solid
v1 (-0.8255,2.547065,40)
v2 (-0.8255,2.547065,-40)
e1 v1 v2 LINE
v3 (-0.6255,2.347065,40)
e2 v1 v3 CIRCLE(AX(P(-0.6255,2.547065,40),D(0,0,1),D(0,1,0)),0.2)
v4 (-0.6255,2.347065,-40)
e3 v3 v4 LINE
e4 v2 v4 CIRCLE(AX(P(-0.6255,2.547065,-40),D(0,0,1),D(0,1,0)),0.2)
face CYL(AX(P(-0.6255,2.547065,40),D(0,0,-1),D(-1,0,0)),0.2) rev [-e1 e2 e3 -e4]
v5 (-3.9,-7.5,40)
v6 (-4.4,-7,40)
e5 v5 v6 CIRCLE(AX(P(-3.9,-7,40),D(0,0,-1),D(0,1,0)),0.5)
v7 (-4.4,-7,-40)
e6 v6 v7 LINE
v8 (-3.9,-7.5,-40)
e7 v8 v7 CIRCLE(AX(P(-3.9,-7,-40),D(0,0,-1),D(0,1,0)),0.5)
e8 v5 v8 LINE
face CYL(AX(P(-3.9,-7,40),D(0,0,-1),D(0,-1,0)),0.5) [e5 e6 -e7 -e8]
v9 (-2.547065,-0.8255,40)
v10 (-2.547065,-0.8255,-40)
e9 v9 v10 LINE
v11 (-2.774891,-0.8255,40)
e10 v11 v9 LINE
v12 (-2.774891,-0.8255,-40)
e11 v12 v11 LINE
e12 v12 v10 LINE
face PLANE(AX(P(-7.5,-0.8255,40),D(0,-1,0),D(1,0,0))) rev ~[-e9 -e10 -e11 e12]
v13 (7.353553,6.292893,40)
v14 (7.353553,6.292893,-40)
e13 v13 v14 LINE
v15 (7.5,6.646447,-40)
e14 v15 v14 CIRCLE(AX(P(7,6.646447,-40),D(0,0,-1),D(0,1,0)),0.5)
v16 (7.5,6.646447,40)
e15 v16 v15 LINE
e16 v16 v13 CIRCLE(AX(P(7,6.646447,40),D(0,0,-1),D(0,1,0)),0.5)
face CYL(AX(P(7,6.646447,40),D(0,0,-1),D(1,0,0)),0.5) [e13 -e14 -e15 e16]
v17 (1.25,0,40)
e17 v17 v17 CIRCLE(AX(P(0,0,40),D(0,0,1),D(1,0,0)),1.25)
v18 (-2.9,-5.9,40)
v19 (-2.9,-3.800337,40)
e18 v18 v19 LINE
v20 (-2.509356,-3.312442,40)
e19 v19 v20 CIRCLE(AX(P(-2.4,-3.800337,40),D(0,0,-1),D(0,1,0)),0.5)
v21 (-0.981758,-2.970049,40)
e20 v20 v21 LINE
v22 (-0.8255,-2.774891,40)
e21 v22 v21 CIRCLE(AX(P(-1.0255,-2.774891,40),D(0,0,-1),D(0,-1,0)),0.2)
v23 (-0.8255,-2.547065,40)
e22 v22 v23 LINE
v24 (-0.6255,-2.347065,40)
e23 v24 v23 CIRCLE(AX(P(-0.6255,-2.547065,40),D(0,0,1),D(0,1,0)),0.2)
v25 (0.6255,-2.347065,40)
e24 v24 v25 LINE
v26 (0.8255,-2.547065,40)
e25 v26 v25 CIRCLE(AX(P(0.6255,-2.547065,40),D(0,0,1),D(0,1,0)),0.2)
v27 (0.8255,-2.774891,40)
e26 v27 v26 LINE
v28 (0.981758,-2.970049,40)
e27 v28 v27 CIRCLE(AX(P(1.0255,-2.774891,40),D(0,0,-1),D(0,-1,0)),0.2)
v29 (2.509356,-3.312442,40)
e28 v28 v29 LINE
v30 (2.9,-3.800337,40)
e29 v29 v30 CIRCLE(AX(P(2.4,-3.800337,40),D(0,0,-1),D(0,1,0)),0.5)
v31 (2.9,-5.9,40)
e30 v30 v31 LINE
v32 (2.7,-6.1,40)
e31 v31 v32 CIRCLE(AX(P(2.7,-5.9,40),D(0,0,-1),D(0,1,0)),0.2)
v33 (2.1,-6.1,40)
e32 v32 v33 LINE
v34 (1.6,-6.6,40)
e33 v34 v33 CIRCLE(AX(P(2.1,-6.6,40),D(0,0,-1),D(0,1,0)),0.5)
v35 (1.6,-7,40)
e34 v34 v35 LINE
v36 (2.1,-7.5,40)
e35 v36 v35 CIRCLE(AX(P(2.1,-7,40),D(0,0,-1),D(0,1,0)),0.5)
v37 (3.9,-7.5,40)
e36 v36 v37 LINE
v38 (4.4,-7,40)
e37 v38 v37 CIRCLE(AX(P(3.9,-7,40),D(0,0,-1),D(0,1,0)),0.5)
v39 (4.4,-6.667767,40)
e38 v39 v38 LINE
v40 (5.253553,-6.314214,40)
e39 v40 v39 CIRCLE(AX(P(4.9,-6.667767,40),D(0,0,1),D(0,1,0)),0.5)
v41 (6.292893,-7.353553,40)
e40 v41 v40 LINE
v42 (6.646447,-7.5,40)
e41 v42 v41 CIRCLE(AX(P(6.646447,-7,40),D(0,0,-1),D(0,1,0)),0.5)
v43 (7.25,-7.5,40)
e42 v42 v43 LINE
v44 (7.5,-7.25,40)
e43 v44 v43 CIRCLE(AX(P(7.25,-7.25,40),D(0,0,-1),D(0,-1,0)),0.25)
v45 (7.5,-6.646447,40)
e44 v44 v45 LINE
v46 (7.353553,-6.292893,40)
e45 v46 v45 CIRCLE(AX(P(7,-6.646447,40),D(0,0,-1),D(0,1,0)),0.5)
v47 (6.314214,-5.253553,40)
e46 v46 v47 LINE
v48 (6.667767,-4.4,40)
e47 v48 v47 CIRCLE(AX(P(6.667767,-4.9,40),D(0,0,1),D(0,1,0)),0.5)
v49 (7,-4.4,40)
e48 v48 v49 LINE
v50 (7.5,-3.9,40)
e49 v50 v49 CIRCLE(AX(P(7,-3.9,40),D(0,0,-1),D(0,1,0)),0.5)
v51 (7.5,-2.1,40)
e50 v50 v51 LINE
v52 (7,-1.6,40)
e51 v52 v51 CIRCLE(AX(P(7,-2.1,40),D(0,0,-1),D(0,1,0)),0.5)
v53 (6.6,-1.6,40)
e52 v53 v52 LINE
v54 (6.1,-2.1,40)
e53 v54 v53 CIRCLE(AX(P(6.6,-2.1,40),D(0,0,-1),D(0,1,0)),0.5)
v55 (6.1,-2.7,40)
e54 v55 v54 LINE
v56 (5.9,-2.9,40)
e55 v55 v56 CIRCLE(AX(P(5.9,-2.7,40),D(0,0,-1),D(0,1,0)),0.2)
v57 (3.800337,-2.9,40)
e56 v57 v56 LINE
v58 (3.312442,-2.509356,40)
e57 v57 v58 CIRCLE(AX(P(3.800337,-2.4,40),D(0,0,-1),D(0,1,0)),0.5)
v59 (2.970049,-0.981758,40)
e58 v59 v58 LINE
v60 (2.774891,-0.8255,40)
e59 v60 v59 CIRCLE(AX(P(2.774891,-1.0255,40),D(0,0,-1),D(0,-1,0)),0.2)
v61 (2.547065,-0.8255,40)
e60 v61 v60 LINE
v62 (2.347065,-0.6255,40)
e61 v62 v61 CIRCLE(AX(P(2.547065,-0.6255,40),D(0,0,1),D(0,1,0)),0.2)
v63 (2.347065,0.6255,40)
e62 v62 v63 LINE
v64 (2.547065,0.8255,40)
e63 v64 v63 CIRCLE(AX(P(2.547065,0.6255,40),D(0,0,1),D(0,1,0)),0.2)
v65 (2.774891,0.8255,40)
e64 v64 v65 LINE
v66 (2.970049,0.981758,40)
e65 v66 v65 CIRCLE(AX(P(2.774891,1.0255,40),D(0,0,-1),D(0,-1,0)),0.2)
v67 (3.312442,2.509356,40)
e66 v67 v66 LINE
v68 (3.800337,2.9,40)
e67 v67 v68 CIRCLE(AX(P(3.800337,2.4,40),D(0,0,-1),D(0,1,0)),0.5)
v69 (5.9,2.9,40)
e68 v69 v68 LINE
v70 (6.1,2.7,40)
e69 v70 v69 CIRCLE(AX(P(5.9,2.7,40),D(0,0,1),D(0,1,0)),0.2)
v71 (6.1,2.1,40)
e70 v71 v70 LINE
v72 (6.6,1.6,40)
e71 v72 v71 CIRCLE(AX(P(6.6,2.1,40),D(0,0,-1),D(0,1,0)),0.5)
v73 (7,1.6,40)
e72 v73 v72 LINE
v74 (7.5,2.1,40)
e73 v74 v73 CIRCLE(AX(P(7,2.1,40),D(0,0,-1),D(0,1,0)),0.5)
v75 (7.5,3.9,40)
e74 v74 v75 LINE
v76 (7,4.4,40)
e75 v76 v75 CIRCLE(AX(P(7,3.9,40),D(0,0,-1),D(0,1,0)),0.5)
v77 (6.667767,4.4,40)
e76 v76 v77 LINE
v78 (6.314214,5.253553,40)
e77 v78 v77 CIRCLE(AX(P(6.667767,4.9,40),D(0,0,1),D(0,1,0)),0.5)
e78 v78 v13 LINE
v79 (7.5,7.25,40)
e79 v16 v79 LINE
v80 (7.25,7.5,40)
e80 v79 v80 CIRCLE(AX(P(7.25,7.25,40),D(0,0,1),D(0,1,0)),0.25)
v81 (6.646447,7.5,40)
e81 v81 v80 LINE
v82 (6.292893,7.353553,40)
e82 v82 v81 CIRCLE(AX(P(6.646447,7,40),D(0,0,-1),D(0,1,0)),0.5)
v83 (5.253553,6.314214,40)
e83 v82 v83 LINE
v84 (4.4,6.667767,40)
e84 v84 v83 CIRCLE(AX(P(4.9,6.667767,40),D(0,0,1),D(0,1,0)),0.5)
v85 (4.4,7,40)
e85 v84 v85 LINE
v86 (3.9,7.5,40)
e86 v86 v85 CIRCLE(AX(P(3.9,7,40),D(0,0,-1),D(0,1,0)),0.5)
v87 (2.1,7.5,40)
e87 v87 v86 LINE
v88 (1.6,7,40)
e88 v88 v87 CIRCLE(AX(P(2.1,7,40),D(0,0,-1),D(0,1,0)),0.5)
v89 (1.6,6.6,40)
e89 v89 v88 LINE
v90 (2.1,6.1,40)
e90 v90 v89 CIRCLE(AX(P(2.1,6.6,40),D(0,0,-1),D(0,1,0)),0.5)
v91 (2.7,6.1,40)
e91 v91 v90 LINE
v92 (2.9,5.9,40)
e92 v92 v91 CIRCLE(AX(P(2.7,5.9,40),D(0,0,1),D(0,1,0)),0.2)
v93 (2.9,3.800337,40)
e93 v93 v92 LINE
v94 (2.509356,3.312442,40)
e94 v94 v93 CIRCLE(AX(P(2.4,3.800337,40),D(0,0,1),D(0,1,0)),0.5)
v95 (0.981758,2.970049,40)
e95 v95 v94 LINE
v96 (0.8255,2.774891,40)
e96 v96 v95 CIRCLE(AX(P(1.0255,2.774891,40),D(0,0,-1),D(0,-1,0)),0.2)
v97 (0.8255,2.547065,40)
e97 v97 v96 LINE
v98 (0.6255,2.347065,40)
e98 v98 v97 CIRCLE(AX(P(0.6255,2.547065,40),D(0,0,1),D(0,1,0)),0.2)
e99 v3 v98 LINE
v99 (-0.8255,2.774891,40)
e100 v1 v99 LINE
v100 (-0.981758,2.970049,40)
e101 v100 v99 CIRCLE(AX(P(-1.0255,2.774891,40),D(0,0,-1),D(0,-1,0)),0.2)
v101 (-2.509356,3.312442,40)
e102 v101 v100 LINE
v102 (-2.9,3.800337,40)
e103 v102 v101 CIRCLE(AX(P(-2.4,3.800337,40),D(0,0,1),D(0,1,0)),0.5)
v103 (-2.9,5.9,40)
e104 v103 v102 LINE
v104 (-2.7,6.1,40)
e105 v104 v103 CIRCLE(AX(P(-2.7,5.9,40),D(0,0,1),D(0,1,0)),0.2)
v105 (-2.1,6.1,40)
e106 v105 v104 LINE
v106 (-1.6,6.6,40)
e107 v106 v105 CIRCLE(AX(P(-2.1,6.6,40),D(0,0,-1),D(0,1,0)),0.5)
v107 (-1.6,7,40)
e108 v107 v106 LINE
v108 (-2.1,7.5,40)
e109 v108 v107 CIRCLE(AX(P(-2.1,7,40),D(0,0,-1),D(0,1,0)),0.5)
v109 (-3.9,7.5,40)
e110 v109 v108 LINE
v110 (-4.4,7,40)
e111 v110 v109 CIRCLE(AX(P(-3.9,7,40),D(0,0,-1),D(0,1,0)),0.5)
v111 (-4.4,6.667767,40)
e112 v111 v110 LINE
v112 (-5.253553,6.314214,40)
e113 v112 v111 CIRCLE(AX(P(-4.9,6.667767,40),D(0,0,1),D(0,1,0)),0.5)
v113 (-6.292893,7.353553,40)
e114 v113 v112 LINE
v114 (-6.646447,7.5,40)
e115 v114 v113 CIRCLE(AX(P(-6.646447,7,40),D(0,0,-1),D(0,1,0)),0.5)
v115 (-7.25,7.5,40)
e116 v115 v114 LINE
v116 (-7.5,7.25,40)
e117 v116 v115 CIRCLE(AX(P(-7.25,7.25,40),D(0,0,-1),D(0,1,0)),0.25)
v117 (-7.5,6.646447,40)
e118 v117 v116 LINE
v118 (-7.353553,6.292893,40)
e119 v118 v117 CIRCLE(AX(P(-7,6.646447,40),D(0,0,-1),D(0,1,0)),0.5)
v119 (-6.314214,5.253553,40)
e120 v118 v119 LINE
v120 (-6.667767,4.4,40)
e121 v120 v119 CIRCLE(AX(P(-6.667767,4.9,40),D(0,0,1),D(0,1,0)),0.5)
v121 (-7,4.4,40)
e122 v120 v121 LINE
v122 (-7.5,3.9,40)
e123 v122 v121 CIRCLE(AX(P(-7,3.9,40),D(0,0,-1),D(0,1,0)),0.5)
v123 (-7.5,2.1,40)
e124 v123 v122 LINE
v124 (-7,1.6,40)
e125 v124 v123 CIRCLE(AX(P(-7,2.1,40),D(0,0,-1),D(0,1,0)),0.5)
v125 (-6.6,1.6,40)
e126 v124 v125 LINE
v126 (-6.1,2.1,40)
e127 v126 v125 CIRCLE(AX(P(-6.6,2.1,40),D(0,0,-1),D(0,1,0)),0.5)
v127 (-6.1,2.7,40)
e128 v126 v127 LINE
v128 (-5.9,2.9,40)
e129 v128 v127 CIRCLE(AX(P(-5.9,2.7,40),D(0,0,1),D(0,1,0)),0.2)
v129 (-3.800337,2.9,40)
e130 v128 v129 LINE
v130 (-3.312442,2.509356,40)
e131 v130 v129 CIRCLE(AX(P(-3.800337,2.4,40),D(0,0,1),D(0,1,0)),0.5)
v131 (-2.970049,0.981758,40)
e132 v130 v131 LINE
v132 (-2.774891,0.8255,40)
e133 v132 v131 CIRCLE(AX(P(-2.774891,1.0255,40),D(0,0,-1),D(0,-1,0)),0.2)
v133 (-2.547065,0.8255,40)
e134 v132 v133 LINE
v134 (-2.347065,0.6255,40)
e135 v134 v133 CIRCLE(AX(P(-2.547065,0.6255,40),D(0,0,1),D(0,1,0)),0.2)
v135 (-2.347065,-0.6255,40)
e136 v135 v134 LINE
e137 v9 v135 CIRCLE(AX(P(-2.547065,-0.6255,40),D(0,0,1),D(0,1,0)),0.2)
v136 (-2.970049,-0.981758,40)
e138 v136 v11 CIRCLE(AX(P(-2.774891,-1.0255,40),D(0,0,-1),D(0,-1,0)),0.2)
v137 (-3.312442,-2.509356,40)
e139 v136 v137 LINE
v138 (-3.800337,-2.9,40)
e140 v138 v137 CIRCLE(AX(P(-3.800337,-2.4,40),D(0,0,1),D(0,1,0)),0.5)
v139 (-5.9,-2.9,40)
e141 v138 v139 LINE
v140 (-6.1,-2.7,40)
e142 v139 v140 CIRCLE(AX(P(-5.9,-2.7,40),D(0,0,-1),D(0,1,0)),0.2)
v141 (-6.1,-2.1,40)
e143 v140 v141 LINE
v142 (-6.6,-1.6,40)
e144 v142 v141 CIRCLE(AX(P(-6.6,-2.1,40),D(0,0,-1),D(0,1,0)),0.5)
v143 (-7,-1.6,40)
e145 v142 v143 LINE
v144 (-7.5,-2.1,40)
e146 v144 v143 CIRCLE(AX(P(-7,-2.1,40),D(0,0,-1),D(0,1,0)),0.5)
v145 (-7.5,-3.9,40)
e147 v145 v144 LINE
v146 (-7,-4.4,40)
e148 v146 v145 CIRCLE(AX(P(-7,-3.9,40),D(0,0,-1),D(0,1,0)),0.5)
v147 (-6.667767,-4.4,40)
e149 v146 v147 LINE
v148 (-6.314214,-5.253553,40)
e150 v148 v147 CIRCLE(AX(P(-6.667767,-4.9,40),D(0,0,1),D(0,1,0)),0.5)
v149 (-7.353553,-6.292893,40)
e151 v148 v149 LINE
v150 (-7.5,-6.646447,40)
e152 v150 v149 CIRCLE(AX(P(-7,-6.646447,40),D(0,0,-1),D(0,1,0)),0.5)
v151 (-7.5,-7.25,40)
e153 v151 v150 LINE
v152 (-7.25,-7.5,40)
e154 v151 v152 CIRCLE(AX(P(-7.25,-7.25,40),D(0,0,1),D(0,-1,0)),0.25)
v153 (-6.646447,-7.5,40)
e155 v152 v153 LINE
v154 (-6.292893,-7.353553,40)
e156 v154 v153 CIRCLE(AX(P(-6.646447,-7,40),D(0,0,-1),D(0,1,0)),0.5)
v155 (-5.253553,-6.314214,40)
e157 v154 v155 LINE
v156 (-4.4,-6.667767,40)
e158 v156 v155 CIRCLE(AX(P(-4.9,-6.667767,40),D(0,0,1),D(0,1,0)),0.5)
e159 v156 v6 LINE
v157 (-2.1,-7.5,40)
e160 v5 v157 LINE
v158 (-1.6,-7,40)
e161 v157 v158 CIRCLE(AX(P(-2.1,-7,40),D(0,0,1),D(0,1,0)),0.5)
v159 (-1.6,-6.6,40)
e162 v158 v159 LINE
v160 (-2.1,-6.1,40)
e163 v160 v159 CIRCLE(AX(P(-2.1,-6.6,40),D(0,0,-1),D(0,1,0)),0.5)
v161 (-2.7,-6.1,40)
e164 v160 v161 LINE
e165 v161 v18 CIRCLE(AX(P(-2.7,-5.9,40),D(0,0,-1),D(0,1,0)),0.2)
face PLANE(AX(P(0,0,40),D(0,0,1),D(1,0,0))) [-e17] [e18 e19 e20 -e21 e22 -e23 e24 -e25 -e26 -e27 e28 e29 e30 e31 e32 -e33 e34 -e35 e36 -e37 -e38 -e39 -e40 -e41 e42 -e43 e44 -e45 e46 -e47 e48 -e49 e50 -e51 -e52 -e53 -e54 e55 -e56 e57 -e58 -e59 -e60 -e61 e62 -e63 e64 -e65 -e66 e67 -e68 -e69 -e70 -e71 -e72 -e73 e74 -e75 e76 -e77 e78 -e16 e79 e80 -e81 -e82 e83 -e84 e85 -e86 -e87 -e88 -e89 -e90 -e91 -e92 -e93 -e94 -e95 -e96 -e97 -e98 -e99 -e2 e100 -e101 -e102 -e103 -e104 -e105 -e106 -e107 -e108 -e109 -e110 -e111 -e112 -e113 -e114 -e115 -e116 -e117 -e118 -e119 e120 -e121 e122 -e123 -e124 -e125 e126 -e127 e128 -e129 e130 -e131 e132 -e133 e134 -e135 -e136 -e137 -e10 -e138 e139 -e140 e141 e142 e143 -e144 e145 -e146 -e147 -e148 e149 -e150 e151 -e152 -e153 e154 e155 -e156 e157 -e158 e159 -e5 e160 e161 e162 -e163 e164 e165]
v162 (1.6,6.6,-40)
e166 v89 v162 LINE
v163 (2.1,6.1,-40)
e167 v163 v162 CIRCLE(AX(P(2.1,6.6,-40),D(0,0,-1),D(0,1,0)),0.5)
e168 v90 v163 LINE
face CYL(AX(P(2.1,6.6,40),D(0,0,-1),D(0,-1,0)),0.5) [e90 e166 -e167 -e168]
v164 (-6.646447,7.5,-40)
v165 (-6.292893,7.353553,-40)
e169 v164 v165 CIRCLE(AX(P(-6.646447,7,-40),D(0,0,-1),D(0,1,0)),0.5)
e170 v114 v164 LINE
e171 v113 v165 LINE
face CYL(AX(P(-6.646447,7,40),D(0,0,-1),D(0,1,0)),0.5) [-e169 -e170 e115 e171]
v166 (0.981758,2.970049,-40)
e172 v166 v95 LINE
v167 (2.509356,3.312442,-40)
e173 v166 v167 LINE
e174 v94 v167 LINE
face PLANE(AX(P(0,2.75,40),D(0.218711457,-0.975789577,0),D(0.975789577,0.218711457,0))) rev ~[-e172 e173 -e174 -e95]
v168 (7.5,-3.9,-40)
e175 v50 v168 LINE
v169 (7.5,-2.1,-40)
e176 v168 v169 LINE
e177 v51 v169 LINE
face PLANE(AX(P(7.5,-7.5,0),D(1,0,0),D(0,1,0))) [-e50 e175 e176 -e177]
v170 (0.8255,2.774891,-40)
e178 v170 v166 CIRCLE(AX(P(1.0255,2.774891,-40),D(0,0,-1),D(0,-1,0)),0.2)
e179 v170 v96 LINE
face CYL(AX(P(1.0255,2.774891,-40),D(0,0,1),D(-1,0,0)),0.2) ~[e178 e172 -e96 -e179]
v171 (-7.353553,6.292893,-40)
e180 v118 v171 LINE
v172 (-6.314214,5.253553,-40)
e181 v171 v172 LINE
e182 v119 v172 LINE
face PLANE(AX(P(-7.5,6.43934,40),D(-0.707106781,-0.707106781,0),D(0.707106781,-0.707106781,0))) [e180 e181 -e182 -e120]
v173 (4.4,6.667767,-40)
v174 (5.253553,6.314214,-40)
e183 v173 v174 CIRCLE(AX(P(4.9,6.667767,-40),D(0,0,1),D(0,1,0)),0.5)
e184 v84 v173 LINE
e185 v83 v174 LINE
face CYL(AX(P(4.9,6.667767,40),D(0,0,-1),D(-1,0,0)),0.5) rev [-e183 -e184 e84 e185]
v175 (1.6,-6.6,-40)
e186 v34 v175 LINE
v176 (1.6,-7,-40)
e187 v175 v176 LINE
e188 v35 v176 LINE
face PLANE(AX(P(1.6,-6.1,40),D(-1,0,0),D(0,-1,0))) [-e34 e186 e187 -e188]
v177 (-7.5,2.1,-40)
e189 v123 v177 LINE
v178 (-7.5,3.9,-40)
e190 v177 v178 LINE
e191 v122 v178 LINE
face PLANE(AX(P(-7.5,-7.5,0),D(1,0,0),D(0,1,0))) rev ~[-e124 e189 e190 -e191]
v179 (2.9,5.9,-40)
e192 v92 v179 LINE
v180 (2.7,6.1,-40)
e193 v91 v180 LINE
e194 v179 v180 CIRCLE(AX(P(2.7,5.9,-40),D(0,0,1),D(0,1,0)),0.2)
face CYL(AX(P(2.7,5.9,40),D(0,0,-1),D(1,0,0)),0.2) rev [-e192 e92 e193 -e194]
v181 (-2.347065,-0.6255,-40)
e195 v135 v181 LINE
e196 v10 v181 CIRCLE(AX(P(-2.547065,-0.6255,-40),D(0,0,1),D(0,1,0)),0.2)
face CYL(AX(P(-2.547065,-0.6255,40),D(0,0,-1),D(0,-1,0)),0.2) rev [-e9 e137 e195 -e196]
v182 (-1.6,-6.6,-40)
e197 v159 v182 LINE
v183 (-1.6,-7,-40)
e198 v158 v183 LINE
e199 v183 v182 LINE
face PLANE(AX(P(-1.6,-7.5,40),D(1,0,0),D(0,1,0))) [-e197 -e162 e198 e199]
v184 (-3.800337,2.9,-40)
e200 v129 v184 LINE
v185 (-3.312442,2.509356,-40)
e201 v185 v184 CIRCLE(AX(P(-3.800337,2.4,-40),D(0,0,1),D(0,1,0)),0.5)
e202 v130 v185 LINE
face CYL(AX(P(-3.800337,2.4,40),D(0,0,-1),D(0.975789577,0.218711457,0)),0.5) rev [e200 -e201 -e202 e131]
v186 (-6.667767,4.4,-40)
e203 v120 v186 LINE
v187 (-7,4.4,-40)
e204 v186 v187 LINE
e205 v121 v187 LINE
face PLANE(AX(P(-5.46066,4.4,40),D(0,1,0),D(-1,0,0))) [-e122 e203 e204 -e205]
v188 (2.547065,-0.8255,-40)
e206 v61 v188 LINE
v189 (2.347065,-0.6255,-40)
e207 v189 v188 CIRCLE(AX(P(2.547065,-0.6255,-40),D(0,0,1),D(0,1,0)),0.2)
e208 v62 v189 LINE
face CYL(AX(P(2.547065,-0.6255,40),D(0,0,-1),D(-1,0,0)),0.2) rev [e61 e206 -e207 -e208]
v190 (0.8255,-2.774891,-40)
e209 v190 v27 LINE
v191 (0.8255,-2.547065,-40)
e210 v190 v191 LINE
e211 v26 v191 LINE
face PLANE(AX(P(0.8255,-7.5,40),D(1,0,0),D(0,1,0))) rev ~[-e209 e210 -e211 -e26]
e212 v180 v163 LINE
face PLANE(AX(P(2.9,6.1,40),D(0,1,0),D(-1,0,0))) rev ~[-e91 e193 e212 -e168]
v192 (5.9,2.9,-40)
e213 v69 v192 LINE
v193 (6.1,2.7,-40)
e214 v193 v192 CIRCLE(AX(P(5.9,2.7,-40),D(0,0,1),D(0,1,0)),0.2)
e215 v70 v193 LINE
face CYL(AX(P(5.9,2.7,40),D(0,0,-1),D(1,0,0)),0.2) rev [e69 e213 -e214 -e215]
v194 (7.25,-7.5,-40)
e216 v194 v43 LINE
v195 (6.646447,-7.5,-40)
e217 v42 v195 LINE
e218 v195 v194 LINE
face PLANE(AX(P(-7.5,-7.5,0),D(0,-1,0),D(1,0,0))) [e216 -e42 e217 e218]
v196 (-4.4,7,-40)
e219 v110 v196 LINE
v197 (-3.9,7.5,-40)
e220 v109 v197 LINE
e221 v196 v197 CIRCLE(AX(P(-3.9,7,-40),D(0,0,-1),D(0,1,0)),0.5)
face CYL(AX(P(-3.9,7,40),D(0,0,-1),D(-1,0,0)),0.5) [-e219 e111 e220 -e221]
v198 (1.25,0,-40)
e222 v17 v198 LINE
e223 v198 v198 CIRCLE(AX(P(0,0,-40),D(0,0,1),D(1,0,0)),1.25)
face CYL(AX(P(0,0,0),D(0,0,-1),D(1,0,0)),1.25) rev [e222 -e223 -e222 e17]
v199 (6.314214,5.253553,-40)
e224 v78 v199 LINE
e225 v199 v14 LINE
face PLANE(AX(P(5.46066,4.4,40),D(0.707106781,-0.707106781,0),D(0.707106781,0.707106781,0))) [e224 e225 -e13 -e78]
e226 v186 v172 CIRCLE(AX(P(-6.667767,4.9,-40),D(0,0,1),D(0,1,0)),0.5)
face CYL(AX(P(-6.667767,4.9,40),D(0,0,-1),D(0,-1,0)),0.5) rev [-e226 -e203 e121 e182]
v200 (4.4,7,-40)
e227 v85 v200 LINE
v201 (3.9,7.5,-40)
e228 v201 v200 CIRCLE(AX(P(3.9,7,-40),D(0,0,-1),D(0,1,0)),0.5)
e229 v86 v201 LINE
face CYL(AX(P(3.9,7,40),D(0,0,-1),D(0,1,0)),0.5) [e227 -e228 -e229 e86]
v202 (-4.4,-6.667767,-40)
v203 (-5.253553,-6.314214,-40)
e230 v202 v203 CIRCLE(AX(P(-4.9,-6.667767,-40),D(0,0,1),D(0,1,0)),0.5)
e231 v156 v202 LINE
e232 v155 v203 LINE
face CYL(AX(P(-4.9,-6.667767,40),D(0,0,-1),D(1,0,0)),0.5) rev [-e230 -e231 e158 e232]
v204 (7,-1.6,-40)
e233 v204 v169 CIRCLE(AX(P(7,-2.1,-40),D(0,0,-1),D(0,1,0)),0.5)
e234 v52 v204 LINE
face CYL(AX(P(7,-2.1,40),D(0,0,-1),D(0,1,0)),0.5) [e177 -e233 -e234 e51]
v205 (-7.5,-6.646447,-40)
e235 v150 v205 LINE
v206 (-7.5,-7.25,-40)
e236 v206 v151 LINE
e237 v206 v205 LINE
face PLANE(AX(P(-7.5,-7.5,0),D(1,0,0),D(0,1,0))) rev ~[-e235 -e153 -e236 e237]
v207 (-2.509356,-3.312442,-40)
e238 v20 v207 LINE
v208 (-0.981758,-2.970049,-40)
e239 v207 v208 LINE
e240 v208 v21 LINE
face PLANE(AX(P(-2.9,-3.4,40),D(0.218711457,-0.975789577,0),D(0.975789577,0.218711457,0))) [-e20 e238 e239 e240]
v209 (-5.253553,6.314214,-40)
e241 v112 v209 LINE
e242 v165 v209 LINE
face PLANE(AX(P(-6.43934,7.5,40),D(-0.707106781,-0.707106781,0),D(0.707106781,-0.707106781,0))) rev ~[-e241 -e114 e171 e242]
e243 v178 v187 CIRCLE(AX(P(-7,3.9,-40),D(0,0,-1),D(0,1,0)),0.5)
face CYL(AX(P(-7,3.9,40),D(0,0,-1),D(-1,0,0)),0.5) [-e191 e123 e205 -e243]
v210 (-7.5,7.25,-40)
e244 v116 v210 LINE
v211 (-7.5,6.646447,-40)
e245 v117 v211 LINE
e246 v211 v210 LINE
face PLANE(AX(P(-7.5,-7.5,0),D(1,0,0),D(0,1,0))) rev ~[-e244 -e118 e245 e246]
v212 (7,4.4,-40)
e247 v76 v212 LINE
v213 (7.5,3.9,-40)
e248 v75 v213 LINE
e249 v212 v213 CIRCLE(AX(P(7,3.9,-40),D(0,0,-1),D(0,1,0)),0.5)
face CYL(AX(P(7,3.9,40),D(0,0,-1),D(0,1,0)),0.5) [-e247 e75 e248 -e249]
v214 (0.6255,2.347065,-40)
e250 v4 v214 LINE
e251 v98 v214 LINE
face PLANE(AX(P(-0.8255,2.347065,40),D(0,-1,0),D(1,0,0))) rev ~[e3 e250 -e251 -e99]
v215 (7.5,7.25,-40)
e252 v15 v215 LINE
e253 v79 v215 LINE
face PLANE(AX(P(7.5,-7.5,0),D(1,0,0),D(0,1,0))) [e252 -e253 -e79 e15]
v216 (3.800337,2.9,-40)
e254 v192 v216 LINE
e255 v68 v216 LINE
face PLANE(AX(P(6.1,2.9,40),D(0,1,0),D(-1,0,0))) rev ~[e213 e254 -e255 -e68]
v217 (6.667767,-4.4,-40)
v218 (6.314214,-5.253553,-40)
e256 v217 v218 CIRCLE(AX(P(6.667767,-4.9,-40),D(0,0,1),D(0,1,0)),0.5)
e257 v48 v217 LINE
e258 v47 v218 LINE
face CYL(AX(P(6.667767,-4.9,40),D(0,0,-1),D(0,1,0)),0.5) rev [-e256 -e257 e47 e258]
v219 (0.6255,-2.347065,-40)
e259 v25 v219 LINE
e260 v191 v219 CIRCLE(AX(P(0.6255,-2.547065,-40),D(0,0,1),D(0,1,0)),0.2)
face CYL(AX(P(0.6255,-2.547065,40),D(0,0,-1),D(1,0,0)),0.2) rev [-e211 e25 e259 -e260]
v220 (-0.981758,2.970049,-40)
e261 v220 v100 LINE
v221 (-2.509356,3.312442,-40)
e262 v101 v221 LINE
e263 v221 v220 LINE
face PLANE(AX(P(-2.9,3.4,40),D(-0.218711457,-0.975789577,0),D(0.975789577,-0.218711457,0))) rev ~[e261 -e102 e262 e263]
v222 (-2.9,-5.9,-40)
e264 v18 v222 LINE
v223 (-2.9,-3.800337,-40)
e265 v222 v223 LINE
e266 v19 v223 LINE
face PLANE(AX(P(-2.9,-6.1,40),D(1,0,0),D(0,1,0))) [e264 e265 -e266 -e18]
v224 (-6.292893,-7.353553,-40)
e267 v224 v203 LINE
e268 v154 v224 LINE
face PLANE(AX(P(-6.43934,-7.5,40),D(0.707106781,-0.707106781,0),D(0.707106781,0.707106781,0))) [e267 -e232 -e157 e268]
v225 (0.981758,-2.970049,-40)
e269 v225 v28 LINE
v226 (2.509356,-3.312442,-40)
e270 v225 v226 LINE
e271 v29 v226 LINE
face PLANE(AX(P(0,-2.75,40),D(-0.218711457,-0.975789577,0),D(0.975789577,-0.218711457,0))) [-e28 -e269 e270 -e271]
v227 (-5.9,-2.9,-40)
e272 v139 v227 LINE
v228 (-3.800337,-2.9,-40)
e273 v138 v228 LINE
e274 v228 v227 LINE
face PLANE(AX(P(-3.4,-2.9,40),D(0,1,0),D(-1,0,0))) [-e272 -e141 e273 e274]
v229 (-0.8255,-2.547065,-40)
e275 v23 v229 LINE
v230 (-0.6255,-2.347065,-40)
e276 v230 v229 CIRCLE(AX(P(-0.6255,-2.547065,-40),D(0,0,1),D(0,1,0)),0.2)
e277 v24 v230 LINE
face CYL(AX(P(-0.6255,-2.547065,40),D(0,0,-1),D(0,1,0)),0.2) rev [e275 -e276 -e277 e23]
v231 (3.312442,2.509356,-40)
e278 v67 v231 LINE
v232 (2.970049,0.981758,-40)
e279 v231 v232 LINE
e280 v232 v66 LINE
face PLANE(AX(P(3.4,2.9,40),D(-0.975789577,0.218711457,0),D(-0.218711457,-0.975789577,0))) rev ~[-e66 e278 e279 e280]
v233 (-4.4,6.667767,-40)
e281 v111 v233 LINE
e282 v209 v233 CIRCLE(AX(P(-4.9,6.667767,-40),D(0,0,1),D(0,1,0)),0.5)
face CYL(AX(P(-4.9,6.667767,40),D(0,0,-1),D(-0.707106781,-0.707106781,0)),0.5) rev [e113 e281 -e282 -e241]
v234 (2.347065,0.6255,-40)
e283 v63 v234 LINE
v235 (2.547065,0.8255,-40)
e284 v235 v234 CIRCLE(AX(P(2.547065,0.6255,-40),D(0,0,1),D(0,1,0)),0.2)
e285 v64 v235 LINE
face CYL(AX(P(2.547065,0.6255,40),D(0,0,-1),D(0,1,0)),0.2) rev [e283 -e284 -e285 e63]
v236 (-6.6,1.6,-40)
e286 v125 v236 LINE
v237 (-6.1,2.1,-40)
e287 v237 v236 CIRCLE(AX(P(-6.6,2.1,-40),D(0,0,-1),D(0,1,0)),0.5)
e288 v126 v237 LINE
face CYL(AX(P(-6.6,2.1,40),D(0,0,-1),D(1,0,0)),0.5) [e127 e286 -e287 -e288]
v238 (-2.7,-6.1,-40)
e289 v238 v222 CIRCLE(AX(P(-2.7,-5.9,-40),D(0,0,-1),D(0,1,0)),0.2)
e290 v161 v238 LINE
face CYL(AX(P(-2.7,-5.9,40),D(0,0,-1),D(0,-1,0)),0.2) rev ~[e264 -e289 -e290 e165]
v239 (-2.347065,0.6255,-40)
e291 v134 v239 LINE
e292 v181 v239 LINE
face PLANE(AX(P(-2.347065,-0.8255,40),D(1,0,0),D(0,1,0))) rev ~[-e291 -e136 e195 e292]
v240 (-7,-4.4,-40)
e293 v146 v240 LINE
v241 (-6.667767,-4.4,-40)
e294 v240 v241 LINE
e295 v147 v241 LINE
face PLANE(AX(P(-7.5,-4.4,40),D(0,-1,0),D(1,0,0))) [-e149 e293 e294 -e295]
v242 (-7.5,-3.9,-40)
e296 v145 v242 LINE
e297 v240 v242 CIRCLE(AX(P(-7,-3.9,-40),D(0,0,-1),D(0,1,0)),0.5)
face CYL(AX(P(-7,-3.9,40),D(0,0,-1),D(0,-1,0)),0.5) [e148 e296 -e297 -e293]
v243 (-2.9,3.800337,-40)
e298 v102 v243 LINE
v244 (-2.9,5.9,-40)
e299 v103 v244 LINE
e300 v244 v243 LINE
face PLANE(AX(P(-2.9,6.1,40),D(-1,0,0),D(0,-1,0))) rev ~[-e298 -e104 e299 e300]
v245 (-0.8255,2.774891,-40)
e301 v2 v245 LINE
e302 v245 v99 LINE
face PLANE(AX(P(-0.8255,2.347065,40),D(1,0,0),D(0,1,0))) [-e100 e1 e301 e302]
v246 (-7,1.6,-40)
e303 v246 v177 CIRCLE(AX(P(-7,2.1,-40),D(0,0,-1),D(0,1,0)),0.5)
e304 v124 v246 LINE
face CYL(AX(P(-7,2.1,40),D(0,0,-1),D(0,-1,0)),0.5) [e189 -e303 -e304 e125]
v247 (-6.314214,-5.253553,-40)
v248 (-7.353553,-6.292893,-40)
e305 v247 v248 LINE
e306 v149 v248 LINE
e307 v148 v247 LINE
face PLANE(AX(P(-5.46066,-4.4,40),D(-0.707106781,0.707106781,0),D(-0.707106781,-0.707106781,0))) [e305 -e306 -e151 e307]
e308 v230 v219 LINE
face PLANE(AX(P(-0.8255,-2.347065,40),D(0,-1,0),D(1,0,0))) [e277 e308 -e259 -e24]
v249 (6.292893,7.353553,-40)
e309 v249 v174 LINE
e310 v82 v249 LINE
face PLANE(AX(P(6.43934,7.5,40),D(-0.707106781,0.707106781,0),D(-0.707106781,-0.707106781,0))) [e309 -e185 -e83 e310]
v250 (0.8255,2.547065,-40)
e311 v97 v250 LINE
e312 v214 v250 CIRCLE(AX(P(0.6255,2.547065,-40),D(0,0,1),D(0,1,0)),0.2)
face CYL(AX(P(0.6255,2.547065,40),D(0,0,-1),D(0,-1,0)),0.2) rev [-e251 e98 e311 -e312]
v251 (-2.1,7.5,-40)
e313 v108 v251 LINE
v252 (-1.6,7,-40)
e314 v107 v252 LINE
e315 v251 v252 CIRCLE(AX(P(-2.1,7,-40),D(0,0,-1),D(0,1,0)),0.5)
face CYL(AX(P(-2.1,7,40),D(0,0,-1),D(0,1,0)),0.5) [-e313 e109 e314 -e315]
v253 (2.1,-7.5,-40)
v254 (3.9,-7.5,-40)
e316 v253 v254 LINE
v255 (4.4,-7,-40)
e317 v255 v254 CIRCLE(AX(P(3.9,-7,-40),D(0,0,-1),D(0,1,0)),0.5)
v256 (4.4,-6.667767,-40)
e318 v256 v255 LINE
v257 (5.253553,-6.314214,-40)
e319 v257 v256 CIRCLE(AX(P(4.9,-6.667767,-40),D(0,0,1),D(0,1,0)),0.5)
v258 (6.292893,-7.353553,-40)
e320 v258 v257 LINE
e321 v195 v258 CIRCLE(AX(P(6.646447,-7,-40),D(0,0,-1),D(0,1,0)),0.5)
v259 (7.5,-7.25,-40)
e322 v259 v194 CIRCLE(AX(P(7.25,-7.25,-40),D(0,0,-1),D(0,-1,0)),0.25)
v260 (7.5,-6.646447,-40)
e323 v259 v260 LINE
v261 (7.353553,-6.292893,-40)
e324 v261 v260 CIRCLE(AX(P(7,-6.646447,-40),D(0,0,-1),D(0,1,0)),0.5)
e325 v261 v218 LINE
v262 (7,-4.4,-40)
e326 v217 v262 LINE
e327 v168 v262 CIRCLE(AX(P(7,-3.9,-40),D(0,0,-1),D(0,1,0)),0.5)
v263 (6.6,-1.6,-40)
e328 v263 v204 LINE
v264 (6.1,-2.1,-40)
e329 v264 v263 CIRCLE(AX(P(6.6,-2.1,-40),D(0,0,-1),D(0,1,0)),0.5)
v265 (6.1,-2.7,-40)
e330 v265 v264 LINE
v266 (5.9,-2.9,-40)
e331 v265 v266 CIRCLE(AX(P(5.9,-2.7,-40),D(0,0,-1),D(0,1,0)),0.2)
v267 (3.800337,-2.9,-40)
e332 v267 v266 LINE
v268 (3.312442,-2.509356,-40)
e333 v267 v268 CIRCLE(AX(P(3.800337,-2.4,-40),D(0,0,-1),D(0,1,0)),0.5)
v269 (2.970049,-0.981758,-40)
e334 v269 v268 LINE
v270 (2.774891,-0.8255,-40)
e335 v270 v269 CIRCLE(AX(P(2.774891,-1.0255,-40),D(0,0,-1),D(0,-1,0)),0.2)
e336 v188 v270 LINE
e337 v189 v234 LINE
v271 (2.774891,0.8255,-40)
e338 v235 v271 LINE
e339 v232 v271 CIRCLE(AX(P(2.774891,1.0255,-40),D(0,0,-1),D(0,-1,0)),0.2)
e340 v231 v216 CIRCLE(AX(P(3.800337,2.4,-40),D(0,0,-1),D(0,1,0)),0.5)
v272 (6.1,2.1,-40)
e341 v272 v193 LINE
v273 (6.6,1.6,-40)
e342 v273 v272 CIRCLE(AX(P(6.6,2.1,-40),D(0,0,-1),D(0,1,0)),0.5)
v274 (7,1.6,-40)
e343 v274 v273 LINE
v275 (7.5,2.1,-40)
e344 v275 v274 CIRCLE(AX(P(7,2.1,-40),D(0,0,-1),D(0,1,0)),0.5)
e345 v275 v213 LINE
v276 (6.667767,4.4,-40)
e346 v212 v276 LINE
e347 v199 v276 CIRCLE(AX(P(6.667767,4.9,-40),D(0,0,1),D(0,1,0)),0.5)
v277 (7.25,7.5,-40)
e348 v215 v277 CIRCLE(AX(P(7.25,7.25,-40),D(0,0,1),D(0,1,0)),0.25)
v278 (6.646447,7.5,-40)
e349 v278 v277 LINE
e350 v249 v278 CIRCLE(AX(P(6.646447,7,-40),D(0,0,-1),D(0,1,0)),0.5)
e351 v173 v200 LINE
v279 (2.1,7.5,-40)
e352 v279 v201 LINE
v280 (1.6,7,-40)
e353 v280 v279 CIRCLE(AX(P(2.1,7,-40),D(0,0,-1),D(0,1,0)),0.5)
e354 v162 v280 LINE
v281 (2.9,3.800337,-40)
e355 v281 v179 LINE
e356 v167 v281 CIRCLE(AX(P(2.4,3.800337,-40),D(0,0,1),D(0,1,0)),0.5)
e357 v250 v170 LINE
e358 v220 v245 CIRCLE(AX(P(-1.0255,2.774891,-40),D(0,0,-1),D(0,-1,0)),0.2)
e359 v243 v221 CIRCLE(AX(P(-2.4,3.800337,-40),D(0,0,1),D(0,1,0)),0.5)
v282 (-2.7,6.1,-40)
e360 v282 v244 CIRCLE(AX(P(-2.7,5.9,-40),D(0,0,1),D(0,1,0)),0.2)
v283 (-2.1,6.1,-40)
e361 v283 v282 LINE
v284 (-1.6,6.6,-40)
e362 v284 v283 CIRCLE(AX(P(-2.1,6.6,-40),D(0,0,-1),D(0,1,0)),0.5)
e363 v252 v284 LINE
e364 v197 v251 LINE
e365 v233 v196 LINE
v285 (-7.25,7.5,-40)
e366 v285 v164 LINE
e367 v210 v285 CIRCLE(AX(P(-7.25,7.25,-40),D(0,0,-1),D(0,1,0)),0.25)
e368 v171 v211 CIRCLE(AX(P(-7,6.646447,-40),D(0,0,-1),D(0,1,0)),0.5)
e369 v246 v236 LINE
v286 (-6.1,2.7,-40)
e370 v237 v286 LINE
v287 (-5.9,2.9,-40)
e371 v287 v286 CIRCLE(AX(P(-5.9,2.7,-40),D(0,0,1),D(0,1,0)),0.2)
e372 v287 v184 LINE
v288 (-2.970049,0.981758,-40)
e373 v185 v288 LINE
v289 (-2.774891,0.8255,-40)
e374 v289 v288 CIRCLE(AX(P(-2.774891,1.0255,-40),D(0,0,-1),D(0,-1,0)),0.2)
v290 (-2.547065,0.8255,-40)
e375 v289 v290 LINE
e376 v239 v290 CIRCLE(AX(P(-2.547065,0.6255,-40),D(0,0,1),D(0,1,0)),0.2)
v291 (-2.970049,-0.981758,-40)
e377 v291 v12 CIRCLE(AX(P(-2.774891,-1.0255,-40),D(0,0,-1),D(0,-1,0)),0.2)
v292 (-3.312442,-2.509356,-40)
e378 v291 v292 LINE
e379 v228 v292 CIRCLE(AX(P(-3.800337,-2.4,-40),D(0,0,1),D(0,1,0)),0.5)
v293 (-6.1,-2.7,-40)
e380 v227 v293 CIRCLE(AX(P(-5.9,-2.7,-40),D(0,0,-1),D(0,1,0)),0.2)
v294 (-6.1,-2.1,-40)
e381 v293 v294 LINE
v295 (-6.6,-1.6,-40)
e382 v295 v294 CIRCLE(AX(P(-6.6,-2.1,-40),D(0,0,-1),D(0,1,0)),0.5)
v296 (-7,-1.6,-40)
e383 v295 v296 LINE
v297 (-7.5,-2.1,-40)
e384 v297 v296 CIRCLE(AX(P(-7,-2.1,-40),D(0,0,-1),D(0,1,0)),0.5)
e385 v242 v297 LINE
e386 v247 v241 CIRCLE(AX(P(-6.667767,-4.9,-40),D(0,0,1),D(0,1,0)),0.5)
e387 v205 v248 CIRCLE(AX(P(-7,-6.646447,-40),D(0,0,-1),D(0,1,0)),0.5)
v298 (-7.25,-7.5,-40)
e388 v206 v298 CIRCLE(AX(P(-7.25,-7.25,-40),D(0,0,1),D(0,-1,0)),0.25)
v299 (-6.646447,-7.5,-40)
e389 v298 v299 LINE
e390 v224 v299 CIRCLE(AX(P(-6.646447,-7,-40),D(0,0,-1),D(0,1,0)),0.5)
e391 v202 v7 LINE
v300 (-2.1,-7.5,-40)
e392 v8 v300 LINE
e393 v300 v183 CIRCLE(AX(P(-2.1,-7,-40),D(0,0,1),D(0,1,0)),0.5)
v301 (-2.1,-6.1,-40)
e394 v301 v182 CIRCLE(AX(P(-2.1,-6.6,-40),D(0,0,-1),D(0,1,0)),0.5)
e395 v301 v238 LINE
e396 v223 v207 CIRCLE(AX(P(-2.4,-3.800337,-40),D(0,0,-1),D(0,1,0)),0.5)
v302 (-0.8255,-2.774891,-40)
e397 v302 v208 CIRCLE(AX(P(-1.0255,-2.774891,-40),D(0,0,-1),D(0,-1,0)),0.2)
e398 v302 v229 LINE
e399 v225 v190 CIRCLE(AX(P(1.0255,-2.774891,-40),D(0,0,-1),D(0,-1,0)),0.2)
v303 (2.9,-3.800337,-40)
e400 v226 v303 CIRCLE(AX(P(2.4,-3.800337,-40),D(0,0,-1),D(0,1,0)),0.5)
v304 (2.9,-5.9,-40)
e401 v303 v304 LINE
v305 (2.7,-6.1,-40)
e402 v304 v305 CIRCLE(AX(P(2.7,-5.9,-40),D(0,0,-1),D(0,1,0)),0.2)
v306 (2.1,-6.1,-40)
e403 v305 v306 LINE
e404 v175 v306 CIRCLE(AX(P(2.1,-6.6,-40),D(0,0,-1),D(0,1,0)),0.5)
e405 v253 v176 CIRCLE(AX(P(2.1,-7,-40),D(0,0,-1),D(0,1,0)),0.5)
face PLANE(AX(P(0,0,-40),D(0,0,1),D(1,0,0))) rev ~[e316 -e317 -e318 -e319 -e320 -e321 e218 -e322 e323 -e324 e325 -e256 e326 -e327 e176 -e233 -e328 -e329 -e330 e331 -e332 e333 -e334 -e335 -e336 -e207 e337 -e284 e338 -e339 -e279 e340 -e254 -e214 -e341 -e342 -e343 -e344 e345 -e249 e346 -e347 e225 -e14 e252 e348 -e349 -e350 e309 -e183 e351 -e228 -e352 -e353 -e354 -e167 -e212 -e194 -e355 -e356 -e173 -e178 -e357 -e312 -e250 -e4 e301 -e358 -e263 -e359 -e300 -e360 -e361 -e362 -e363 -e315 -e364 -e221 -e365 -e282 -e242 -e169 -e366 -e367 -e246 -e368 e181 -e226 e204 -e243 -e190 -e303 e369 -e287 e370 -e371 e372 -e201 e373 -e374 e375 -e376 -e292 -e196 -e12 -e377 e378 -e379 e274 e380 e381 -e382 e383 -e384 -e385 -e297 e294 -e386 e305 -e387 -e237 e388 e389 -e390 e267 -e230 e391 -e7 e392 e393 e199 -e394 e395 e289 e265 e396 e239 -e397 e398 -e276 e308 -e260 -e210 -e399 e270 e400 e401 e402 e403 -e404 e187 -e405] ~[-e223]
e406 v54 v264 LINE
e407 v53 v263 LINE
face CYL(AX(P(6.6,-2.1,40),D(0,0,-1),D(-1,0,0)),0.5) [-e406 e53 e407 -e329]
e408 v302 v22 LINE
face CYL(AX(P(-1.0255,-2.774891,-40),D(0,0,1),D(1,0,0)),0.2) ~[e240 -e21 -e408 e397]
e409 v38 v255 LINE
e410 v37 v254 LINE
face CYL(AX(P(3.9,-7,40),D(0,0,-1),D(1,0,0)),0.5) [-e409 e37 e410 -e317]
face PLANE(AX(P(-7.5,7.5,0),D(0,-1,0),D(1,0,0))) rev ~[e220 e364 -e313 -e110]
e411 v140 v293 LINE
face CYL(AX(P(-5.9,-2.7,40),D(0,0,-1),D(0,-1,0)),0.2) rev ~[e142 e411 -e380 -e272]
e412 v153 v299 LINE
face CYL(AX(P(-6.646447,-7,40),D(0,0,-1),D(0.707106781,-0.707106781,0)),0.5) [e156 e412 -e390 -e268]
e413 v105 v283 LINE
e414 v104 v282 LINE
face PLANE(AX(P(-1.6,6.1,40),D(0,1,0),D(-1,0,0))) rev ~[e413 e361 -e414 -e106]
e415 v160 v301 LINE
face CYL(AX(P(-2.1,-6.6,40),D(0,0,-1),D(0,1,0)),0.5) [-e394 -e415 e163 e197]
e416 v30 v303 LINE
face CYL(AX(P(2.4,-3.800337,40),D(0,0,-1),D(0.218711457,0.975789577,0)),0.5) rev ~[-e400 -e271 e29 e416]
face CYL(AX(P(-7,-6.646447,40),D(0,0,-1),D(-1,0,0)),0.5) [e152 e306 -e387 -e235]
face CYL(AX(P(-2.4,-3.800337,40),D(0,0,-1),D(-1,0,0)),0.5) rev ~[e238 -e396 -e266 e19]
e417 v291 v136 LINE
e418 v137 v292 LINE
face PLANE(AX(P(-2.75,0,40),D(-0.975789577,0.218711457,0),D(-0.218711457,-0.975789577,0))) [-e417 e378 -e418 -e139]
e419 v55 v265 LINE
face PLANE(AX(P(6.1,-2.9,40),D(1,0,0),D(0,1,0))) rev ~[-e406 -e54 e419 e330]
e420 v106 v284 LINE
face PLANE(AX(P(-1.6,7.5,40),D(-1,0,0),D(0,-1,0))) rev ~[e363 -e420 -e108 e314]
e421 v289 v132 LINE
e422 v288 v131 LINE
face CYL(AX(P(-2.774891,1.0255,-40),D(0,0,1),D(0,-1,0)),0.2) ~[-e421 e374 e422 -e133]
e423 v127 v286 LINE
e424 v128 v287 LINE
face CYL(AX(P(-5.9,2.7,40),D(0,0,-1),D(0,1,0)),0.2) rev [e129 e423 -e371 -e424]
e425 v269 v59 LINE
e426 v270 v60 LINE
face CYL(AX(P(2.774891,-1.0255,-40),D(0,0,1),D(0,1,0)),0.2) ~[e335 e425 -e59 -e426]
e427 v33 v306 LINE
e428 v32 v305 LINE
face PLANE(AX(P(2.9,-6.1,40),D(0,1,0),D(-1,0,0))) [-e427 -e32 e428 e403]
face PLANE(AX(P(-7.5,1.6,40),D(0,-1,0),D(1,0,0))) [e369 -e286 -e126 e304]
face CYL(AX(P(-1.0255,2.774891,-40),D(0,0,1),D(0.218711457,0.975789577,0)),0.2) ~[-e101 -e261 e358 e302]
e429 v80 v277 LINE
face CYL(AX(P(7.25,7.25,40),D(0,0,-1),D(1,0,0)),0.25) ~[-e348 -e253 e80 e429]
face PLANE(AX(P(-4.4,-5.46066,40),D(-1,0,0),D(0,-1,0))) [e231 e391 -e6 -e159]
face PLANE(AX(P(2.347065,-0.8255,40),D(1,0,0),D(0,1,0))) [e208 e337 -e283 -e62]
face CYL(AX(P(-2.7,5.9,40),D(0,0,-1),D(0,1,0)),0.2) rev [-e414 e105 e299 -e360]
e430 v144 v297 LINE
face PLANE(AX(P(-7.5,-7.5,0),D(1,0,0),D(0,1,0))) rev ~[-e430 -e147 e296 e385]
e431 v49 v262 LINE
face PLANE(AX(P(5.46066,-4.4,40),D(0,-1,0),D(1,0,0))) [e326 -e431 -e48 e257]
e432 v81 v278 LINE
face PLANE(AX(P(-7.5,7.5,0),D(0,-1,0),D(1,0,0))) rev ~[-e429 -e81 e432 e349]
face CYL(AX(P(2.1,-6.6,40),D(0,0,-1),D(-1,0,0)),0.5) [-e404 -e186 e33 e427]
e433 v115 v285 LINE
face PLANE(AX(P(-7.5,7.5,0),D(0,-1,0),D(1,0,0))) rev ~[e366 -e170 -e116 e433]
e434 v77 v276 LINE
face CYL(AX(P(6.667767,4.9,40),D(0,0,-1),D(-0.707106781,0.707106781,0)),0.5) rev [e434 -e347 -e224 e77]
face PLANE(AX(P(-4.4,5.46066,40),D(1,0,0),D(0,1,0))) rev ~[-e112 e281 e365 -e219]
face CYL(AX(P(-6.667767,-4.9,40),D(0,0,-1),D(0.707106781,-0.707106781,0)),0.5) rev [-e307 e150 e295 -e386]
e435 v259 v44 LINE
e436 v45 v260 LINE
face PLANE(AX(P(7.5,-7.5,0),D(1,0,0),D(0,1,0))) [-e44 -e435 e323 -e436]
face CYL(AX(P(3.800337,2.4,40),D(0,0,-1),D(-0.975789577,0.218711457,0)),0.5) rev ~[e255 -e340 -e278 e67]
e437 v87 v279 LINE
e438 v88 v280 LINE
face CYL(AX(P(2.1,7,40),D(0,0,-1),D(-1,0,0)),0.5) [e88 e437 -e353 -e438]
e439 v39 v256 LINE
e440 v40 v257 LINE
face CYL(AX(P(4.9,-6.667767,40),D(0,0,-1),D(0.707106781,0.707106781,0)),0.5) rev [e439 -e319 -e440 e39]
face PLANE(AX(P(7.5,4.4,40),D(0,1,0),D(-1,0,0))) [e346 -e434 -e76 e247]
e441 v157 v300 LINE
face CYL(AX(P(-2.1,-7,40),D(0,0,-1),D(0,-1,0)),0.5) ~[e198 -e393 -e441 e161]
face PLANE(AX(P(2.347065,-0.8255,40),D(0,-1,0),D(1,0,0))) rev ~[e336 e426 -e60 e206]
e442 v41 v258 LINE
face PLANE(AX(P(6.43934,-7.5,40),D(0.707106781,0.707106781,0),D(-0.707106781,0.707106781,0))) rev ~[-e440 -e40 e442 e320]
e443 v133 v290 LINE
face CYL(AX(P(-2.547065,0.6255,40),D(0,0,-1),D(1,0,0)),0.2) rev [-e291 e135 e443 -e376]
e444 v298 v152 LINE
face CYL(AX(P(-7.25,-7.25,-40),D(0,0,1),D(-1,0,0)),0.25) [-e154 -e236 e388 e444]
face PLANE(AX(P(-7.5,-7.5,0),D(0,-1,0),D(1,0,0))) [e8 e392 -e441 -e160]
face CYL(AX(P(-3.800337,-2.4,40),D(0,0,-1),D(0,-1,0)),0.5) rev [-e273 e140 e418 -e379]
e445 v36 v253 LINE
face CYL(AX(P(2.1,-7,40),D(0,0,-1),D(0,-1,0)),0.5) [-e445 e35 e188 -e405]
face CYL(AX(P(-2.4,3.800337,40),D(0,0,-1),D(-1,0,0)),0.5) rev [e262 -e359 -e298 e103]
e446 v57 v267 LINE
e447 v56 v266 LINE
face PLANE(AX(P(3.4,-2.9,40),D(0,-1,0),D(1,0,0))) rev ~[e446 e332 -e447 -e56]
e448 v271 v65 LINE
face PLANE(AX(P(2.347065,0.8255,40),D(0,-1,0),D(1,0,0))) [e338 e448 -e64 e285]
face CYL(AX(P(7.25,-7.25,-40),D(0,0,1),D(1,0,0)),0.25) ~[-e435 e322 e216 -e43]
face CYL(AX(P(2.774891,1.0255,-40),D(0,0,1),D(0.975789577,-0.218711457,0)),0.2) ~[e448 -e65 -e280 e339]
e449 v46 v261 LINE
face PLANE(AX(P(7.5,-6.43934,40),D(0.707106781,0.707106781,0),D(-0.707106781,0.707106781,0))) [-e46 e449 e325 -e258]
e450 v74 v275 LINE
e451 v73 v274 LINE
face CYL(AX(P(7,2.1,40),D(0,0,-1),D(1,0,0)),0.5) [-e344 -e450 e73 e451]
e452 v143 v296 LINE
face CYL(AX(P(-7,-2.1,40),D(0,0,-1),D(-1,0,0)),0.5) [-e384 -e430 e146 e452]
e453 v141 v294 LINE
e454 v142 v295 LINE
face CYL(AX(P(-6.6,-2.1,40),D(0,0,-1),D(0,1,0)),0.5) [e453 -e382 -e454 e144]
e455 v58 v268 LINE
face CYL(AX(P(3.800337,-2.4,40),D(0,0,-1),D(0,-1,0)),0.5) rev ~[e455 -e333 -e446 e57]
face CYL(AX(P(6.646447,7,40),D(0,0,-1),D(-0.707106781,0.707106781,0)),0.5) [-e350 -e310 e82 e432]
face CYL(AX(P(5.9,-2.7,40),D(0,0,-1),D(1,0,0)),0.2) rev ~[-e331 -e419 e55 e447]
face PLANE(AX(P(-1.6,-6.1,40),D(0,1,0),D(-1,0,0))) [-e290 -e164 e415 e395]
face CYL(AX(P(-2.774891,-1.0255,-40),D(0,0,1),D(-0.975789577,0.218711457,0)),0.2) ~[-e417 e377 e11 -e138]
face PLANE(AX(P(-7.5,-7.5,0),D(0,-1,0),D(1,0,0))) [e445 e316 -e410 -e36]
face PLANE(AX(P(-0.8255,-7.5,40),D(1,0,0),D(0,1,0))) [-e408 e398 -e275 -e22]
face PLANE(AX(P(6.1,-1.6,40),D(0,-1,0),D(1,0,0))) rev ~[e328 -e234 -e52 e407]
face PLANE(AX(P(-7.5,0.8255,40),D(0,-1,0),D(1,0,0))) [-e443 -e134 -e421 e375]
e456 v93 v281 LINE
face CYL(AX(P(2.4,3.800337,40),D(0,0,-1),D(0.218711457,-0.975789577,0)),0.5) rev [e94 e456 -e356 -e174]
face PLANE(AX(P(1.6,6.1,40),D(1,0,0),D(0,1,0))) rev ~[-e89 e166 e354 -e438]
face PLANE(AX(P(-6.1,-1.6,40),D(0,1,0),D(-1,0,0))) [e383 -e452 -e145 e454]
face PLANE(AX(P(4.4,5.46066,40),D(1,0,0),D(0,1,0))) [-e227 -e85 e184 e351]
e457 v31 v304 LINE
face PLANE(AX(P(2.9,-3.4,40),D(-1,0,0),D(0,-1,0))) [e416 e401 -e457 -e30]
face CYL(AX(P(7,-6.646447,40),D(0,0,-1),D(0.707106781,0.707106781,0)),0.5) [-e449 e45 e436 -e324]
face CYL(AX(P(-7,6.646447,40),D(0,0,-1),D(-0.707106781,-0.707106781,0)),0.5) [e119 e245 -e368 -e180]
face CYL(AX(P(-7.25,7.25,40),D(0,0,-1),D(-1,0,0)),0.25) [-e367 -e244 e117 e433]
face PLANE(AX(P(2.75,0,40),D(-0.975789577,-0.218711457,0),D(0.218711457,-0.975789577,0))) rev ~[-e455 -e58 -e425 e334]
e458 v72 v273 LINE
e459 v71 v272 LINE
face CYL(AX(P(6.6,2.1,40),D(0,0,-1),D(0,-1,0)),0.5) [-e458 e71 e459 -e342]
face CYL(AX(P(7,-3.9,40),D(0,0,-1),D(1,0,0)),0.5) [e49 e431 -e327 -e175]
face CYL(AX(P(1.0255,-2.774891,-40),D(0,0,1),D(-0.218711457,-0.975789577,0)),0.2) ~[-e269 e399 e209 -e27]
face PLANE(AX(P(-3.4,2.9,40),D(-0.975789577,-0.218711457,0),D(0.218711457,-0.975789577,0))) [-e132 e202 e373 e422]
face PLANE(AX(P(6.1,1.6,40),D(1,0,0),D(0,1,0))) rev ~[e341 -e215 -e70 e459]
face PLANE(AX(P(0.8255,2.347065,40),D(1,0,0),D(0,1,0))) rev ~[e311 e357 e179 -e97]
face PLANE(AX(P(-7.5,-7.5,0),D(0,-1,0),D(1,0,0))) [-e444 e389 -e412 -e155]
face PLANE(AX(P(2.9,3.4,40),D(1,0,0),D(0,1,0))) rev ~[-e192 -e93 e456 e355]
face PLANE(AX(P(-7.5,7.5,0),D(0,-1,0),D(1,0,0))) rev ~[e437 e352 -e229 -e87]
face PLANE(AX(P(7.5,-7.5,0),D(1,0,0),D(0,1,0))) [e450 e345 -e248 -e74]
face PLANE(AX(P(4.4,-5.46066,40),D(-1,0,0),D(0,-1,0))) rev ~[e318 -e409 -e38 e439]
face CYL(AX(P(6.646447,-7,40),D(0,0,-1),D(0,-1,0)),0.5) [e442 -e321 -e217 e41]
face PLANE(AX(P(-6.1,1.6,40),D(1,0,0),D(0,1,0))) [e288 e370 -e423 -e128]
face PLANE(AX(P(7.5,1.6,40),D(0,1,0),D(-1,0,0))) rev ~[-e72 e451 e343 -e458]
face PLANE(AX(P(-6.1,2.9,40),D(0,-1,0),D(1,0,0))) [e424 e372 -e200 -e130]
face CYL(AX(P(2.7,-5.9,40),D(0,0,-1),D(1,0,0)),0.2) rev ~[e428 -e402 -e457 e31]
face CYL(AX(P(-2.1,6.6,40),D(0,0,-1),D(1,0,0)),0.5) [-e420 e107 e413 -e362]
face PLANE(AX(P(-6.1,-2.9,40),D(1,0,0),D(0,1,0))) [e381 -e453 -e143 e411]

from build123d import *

# Parameters (mm, degrees)
SKETCH1_W           = 15
SKETCH1_H           = 15
SKETCH1_R           = 1.25
BOSS_EXTRUDE1_DEPTH = 40
FILLET1_R           = 0.25
CUT_EXTRUDE1_DEPTH  = 81
CUT_EXTRUDE3_DEPTH  = 81
FILLET3_R           = 0.5
FILLET4_R           = 0.5
FILLET5_R           = 3
FILLET6_R           = 0.2
CUT_EXTRUDE4_DEPTH  = 81
FILLET8_R           = 0.5
SKETCH6_W           = 5.1529354
SKETCH6_H           = 1.651
SKETCH6_W_2         = 1.651
SKETCH6_H_2         = 5.1529354
CUT_EXTRUDE5_DEPTH  = 81
FILLET10_R          = 0.2


with BuildPart() as part:
    # Sketch1 → Boss-Extrude1 (new body, symmetric)
    with BuildSketch(Plane.XY):
        Rectangle(SKETCH1_W, SKETCH1_H)
        Circle(SKETCH1_R, mode=Mode.SUBTRACT)
    extrude(amount=BOSS_EXTRUDE1_DEPTH, both=True)

    # Fillet1
    fillet1_edges = [part.edges().sort_by_distance(p)[0] for p in [
        (7.5, -7.5, 0),
        (-7.5, -7.5, 0),
        (-7.5, 7.5, 0),
        (7.5, 7.5, 0),
    ]]
    fillet(fillet1_edges, radius=FILLET1_R)

    # Sketch2 → Cut-Extrude1 (cut, through all)
    with BuildSketch(Plane.XY.offset(40)):
        Polygon((-7.5, 1.6), (-6.1, 1.6), (-6.1, 2.9), (-3.4, 2.9), (-3.4, -2.9), (-6.1, -2.9), (-6.1, -1.6), (-7.5, -1.6), align=None)
        Polygon((2.9, 6.1), (1.6, 6.1), (1.6, 7.5), (-1.6, 7.5), (-1.6, 6.1), (-2.9, 6.1), (-2.9, 3.4), (2.9, 3.4), align=None)
        Polygon((-1.6, -7.5), (-1.6, -6.1), (-2.9, -6.1), (-2.9, -3.4), (2.9, -3.4), (2.9, -6.1), (1.6, -6.1), (1.6, -7.5), align=None)
        Polygon((6.1, -2.9), (6.1, -1.6), (7.5, -1.6), (7.5, 1.6), (6.1, 1.6), (6.1, 2.9), (3.4, 2.9), (3.4, -2.9), align=None)
    extrude(amount=-CUT_EXTRUDE1_DEPTH, mode=Mode.SUBTRACT)

    # Sketch4 → Cut-Extrude3 (cut, through all)
    with BuildSketch(Plane.XY.offset(40)):
        Polygon((-3.4, 2.9), (-2.75, 0), (-3.4, -2.9), align=None)
        Polygon((-2.9, 3.4), (0, 2.75), (2.9, 3.4), align=None)
        Polygon((3.4, 2.9), (2.75, 0), (3.4, -2.9), align=None)
        Polygon((-2.9, -3.4), (0, -2.75), (2.9, -3.4), align=None)
    extrude(amount=-CUT_EXTRUDE3_DEPTH, mode=Mode.SUBTRACT)

    # Fillet3
    fillet3_edges = [part.edges().sort_by_distance(p)[0] for p in [
        (1.6, -7.5, 0),
        (-1.6, -7.5, 0),
        (-1.6, -6.1, 0),
        (1.6, -6.1, 0),
        (6.1, 1.6, 0),
        (7.5, 1.6, 0),
        (7.5, -1.6, 0),
        (6.1, -1.6, 0),
        (-7.5, -1.6, 0),
        (-7.5, 1.6, 0),
        (-6.1, 1.6, 0),
        (-6.1, -1.6, 0),
        (-1.6, 6.1, 0),
        (-1.6, 7.5, 0),
        (1.6, 7.5, 0),
        (1.6, 6.1, 0),
    ]]
    fillet(fillet3_edges, radius=FILLET3_R)

    # Fillet4
    fillet4_edges = [part.edges().sort_by_distance(p)[0] for p in [
        (-2.9, -3.4, 0),
        (2.9, -3.4, 0),
        (3.4, -2.9, 0),
        (3.4, 2.9, 0),
        (-3.4, 2.9, 0),
        (-3.4, -2.9, 0),
        (2.9, 3.4, 0),
        (-2.9, 3.4, 0),
    ]]
    fillet(fillet4_edges, radius=FILLET4_R)

    # Fillet5
    fillet5_edges = [part.edges().sort_by_distance(p)[0] for p in [
        (-2.75, 0, 0),
        (0, 2.75, 0),
        (2.75, 0, 0),
        (0, -2.75, 0),
    ]]
    fillet(fillet5_edges, radius=FILLET5_R)

    # Fillet6
    fillet6_edges = [part.edges().sort_by_distance(p)[0] for p in [
        (-2.9, -6.1, 0),
        (2.9, -6.1, 0),
        (6.1, -2.9, 0),
        (6.1, 2.9, 0),
        (-6.1, 2.9, 0),
        (-6.1, -2.9, 0),
        (2.9, 6.1, 0),
        (-2.9, 6.1, 0),
    ]]
    fillet(fillet6_edges, radius=FILLET6_R)

    # Sketch5 → Cut-Extrude4 (cut, through all)
    with BuildSketch(Plane.XY.offset(40)):
        Polygon((-7.5, 6.439339828), (-5.460660172, 4.4), (-7.5, 4.4), align=None)
        Polygon((-6.439339828, 7.5), (-4.4, 5.460660172), (-4.4, 7.5), align=None)
        Polygon((4.4, 7.5), (6.439339828, 7.5), (4.4, 5.460660172), align=None)
        Polygon((7.5, 6.439339828), (7.5, 4.4), (5.460660172, 4.4), align=None)
        Polygon((7.5, -6.439339828), (5.460660172, -4.4), (7.5, -4.4), align=None)
        Polygon((6.439339828, -7.5), (4.4, -5.460660172), (4.4, -7.5), align=None)
        Polygon((-4.4, -7.5), (-6.439339828, -7.5), (-4.4, -5.460660172), align=None)
        Polygon((-7.5, -6.439339828), (-7.5, -4.4), (-5.460660172, -4.4), align=None)
    extrude(amount=-CUT_EXTRUDE4_DEPTH, mode=Mode.SUBTRACT)

    # Fillet8
    fillet8_edges = [part.edges().sort_by_distance(p)[0] for p in [
        (-7.5, 4.4, 0),
        (-7.5, 6.439339828, 0),
        (-5.460660172, 4.4, 0),
        (7.5, -4.4, 0),
        (7.5, -6.439339828, 0),
        (5.460660172, -4.4, 0),
        (5.460660172, 4.4, 0),
        (7.5, 6.439339828, 0),
        (7.5, 4.4, 0),
        (-4.4, 7.5, 0),
        (-4.4, 5.460660172, 0),
        (-6.439339828, 7.5, 0),
        (-5.460660172, -4.4, 0),
        (-7.5, -6.439339828, 0),
        (-7.5, -4.4, 0),
        (4.4, 5.460660172, 0),
        (4.4, 7.5, 0),
        (6.439339828, 7.5, 0),
        (6.439339828, -7.5, 0),
        (4.4, -7.5, 0),
        (4.4, -5.460660172, 0),
        (-6.439339828, -7.5, 0),
        (-4.4, -5.460660172, 0),
        (-4.4, -7.5, 0),
    ]]
    fillet(fillet8_edges, radius=FILLET8_R)

    # Sketch6 → Cut-Extrude5 (cut, through all)
    with BuildSketch(Plane.XY.offset(40)):
        with Locations((4.9235323, 0)):
            Rectangle(SKETCH6_W, SKETCH6_H)
        with Locations((0, -4.9235323)):
            Rectangle(SKETCH6_W_2, SKETCH6_H_2)
        with Locations((-4.9235323, 0)):
            Rectangle(SKETCH6_W, SKETCH6_H)
        with Locations((0, 4.9235323)):
            Rectangle(SKETCH6_W_2, SKETCH6_H_2)
    extrude(amount=-CUT_EXTRUDE5_DEPTH, mode=Mode.SUBTRACT)

    # Fillet10
    fillet10_edges = [part.edges().sort_by_distance(p)[0] for p in [
        (0.8255, -2.935025862, 0),
        (-0.8255, -2.935025862, 0),
        (0.8255, -2.3470646, 0),
        (-0.8255, -2.3470646, 0),
        (2.935025862, 0.8255, 0),
        (2.935025862, -0.8255, 0),
        (2.3470646, 0.8255, 0),
        (2.3470646, -0.8255, 0),
        (-2.935025862, -0.8255, 0),
        (-2.935025862, 0.8255, 0),
        (-2.3470646, -0.8255, 0),
        (-2.3470646, 0.8255, 0),
        (-0.8255, 2.935025862, 0),
        (0.8255, 2.935025862, 0),
        (-0.8255, 2.3470646, 0),
        (0.8255, 2.3470646, 0),
    ]]
    fillet(fillet10_edges, radius=FILLET10_R)


solid = part.part
